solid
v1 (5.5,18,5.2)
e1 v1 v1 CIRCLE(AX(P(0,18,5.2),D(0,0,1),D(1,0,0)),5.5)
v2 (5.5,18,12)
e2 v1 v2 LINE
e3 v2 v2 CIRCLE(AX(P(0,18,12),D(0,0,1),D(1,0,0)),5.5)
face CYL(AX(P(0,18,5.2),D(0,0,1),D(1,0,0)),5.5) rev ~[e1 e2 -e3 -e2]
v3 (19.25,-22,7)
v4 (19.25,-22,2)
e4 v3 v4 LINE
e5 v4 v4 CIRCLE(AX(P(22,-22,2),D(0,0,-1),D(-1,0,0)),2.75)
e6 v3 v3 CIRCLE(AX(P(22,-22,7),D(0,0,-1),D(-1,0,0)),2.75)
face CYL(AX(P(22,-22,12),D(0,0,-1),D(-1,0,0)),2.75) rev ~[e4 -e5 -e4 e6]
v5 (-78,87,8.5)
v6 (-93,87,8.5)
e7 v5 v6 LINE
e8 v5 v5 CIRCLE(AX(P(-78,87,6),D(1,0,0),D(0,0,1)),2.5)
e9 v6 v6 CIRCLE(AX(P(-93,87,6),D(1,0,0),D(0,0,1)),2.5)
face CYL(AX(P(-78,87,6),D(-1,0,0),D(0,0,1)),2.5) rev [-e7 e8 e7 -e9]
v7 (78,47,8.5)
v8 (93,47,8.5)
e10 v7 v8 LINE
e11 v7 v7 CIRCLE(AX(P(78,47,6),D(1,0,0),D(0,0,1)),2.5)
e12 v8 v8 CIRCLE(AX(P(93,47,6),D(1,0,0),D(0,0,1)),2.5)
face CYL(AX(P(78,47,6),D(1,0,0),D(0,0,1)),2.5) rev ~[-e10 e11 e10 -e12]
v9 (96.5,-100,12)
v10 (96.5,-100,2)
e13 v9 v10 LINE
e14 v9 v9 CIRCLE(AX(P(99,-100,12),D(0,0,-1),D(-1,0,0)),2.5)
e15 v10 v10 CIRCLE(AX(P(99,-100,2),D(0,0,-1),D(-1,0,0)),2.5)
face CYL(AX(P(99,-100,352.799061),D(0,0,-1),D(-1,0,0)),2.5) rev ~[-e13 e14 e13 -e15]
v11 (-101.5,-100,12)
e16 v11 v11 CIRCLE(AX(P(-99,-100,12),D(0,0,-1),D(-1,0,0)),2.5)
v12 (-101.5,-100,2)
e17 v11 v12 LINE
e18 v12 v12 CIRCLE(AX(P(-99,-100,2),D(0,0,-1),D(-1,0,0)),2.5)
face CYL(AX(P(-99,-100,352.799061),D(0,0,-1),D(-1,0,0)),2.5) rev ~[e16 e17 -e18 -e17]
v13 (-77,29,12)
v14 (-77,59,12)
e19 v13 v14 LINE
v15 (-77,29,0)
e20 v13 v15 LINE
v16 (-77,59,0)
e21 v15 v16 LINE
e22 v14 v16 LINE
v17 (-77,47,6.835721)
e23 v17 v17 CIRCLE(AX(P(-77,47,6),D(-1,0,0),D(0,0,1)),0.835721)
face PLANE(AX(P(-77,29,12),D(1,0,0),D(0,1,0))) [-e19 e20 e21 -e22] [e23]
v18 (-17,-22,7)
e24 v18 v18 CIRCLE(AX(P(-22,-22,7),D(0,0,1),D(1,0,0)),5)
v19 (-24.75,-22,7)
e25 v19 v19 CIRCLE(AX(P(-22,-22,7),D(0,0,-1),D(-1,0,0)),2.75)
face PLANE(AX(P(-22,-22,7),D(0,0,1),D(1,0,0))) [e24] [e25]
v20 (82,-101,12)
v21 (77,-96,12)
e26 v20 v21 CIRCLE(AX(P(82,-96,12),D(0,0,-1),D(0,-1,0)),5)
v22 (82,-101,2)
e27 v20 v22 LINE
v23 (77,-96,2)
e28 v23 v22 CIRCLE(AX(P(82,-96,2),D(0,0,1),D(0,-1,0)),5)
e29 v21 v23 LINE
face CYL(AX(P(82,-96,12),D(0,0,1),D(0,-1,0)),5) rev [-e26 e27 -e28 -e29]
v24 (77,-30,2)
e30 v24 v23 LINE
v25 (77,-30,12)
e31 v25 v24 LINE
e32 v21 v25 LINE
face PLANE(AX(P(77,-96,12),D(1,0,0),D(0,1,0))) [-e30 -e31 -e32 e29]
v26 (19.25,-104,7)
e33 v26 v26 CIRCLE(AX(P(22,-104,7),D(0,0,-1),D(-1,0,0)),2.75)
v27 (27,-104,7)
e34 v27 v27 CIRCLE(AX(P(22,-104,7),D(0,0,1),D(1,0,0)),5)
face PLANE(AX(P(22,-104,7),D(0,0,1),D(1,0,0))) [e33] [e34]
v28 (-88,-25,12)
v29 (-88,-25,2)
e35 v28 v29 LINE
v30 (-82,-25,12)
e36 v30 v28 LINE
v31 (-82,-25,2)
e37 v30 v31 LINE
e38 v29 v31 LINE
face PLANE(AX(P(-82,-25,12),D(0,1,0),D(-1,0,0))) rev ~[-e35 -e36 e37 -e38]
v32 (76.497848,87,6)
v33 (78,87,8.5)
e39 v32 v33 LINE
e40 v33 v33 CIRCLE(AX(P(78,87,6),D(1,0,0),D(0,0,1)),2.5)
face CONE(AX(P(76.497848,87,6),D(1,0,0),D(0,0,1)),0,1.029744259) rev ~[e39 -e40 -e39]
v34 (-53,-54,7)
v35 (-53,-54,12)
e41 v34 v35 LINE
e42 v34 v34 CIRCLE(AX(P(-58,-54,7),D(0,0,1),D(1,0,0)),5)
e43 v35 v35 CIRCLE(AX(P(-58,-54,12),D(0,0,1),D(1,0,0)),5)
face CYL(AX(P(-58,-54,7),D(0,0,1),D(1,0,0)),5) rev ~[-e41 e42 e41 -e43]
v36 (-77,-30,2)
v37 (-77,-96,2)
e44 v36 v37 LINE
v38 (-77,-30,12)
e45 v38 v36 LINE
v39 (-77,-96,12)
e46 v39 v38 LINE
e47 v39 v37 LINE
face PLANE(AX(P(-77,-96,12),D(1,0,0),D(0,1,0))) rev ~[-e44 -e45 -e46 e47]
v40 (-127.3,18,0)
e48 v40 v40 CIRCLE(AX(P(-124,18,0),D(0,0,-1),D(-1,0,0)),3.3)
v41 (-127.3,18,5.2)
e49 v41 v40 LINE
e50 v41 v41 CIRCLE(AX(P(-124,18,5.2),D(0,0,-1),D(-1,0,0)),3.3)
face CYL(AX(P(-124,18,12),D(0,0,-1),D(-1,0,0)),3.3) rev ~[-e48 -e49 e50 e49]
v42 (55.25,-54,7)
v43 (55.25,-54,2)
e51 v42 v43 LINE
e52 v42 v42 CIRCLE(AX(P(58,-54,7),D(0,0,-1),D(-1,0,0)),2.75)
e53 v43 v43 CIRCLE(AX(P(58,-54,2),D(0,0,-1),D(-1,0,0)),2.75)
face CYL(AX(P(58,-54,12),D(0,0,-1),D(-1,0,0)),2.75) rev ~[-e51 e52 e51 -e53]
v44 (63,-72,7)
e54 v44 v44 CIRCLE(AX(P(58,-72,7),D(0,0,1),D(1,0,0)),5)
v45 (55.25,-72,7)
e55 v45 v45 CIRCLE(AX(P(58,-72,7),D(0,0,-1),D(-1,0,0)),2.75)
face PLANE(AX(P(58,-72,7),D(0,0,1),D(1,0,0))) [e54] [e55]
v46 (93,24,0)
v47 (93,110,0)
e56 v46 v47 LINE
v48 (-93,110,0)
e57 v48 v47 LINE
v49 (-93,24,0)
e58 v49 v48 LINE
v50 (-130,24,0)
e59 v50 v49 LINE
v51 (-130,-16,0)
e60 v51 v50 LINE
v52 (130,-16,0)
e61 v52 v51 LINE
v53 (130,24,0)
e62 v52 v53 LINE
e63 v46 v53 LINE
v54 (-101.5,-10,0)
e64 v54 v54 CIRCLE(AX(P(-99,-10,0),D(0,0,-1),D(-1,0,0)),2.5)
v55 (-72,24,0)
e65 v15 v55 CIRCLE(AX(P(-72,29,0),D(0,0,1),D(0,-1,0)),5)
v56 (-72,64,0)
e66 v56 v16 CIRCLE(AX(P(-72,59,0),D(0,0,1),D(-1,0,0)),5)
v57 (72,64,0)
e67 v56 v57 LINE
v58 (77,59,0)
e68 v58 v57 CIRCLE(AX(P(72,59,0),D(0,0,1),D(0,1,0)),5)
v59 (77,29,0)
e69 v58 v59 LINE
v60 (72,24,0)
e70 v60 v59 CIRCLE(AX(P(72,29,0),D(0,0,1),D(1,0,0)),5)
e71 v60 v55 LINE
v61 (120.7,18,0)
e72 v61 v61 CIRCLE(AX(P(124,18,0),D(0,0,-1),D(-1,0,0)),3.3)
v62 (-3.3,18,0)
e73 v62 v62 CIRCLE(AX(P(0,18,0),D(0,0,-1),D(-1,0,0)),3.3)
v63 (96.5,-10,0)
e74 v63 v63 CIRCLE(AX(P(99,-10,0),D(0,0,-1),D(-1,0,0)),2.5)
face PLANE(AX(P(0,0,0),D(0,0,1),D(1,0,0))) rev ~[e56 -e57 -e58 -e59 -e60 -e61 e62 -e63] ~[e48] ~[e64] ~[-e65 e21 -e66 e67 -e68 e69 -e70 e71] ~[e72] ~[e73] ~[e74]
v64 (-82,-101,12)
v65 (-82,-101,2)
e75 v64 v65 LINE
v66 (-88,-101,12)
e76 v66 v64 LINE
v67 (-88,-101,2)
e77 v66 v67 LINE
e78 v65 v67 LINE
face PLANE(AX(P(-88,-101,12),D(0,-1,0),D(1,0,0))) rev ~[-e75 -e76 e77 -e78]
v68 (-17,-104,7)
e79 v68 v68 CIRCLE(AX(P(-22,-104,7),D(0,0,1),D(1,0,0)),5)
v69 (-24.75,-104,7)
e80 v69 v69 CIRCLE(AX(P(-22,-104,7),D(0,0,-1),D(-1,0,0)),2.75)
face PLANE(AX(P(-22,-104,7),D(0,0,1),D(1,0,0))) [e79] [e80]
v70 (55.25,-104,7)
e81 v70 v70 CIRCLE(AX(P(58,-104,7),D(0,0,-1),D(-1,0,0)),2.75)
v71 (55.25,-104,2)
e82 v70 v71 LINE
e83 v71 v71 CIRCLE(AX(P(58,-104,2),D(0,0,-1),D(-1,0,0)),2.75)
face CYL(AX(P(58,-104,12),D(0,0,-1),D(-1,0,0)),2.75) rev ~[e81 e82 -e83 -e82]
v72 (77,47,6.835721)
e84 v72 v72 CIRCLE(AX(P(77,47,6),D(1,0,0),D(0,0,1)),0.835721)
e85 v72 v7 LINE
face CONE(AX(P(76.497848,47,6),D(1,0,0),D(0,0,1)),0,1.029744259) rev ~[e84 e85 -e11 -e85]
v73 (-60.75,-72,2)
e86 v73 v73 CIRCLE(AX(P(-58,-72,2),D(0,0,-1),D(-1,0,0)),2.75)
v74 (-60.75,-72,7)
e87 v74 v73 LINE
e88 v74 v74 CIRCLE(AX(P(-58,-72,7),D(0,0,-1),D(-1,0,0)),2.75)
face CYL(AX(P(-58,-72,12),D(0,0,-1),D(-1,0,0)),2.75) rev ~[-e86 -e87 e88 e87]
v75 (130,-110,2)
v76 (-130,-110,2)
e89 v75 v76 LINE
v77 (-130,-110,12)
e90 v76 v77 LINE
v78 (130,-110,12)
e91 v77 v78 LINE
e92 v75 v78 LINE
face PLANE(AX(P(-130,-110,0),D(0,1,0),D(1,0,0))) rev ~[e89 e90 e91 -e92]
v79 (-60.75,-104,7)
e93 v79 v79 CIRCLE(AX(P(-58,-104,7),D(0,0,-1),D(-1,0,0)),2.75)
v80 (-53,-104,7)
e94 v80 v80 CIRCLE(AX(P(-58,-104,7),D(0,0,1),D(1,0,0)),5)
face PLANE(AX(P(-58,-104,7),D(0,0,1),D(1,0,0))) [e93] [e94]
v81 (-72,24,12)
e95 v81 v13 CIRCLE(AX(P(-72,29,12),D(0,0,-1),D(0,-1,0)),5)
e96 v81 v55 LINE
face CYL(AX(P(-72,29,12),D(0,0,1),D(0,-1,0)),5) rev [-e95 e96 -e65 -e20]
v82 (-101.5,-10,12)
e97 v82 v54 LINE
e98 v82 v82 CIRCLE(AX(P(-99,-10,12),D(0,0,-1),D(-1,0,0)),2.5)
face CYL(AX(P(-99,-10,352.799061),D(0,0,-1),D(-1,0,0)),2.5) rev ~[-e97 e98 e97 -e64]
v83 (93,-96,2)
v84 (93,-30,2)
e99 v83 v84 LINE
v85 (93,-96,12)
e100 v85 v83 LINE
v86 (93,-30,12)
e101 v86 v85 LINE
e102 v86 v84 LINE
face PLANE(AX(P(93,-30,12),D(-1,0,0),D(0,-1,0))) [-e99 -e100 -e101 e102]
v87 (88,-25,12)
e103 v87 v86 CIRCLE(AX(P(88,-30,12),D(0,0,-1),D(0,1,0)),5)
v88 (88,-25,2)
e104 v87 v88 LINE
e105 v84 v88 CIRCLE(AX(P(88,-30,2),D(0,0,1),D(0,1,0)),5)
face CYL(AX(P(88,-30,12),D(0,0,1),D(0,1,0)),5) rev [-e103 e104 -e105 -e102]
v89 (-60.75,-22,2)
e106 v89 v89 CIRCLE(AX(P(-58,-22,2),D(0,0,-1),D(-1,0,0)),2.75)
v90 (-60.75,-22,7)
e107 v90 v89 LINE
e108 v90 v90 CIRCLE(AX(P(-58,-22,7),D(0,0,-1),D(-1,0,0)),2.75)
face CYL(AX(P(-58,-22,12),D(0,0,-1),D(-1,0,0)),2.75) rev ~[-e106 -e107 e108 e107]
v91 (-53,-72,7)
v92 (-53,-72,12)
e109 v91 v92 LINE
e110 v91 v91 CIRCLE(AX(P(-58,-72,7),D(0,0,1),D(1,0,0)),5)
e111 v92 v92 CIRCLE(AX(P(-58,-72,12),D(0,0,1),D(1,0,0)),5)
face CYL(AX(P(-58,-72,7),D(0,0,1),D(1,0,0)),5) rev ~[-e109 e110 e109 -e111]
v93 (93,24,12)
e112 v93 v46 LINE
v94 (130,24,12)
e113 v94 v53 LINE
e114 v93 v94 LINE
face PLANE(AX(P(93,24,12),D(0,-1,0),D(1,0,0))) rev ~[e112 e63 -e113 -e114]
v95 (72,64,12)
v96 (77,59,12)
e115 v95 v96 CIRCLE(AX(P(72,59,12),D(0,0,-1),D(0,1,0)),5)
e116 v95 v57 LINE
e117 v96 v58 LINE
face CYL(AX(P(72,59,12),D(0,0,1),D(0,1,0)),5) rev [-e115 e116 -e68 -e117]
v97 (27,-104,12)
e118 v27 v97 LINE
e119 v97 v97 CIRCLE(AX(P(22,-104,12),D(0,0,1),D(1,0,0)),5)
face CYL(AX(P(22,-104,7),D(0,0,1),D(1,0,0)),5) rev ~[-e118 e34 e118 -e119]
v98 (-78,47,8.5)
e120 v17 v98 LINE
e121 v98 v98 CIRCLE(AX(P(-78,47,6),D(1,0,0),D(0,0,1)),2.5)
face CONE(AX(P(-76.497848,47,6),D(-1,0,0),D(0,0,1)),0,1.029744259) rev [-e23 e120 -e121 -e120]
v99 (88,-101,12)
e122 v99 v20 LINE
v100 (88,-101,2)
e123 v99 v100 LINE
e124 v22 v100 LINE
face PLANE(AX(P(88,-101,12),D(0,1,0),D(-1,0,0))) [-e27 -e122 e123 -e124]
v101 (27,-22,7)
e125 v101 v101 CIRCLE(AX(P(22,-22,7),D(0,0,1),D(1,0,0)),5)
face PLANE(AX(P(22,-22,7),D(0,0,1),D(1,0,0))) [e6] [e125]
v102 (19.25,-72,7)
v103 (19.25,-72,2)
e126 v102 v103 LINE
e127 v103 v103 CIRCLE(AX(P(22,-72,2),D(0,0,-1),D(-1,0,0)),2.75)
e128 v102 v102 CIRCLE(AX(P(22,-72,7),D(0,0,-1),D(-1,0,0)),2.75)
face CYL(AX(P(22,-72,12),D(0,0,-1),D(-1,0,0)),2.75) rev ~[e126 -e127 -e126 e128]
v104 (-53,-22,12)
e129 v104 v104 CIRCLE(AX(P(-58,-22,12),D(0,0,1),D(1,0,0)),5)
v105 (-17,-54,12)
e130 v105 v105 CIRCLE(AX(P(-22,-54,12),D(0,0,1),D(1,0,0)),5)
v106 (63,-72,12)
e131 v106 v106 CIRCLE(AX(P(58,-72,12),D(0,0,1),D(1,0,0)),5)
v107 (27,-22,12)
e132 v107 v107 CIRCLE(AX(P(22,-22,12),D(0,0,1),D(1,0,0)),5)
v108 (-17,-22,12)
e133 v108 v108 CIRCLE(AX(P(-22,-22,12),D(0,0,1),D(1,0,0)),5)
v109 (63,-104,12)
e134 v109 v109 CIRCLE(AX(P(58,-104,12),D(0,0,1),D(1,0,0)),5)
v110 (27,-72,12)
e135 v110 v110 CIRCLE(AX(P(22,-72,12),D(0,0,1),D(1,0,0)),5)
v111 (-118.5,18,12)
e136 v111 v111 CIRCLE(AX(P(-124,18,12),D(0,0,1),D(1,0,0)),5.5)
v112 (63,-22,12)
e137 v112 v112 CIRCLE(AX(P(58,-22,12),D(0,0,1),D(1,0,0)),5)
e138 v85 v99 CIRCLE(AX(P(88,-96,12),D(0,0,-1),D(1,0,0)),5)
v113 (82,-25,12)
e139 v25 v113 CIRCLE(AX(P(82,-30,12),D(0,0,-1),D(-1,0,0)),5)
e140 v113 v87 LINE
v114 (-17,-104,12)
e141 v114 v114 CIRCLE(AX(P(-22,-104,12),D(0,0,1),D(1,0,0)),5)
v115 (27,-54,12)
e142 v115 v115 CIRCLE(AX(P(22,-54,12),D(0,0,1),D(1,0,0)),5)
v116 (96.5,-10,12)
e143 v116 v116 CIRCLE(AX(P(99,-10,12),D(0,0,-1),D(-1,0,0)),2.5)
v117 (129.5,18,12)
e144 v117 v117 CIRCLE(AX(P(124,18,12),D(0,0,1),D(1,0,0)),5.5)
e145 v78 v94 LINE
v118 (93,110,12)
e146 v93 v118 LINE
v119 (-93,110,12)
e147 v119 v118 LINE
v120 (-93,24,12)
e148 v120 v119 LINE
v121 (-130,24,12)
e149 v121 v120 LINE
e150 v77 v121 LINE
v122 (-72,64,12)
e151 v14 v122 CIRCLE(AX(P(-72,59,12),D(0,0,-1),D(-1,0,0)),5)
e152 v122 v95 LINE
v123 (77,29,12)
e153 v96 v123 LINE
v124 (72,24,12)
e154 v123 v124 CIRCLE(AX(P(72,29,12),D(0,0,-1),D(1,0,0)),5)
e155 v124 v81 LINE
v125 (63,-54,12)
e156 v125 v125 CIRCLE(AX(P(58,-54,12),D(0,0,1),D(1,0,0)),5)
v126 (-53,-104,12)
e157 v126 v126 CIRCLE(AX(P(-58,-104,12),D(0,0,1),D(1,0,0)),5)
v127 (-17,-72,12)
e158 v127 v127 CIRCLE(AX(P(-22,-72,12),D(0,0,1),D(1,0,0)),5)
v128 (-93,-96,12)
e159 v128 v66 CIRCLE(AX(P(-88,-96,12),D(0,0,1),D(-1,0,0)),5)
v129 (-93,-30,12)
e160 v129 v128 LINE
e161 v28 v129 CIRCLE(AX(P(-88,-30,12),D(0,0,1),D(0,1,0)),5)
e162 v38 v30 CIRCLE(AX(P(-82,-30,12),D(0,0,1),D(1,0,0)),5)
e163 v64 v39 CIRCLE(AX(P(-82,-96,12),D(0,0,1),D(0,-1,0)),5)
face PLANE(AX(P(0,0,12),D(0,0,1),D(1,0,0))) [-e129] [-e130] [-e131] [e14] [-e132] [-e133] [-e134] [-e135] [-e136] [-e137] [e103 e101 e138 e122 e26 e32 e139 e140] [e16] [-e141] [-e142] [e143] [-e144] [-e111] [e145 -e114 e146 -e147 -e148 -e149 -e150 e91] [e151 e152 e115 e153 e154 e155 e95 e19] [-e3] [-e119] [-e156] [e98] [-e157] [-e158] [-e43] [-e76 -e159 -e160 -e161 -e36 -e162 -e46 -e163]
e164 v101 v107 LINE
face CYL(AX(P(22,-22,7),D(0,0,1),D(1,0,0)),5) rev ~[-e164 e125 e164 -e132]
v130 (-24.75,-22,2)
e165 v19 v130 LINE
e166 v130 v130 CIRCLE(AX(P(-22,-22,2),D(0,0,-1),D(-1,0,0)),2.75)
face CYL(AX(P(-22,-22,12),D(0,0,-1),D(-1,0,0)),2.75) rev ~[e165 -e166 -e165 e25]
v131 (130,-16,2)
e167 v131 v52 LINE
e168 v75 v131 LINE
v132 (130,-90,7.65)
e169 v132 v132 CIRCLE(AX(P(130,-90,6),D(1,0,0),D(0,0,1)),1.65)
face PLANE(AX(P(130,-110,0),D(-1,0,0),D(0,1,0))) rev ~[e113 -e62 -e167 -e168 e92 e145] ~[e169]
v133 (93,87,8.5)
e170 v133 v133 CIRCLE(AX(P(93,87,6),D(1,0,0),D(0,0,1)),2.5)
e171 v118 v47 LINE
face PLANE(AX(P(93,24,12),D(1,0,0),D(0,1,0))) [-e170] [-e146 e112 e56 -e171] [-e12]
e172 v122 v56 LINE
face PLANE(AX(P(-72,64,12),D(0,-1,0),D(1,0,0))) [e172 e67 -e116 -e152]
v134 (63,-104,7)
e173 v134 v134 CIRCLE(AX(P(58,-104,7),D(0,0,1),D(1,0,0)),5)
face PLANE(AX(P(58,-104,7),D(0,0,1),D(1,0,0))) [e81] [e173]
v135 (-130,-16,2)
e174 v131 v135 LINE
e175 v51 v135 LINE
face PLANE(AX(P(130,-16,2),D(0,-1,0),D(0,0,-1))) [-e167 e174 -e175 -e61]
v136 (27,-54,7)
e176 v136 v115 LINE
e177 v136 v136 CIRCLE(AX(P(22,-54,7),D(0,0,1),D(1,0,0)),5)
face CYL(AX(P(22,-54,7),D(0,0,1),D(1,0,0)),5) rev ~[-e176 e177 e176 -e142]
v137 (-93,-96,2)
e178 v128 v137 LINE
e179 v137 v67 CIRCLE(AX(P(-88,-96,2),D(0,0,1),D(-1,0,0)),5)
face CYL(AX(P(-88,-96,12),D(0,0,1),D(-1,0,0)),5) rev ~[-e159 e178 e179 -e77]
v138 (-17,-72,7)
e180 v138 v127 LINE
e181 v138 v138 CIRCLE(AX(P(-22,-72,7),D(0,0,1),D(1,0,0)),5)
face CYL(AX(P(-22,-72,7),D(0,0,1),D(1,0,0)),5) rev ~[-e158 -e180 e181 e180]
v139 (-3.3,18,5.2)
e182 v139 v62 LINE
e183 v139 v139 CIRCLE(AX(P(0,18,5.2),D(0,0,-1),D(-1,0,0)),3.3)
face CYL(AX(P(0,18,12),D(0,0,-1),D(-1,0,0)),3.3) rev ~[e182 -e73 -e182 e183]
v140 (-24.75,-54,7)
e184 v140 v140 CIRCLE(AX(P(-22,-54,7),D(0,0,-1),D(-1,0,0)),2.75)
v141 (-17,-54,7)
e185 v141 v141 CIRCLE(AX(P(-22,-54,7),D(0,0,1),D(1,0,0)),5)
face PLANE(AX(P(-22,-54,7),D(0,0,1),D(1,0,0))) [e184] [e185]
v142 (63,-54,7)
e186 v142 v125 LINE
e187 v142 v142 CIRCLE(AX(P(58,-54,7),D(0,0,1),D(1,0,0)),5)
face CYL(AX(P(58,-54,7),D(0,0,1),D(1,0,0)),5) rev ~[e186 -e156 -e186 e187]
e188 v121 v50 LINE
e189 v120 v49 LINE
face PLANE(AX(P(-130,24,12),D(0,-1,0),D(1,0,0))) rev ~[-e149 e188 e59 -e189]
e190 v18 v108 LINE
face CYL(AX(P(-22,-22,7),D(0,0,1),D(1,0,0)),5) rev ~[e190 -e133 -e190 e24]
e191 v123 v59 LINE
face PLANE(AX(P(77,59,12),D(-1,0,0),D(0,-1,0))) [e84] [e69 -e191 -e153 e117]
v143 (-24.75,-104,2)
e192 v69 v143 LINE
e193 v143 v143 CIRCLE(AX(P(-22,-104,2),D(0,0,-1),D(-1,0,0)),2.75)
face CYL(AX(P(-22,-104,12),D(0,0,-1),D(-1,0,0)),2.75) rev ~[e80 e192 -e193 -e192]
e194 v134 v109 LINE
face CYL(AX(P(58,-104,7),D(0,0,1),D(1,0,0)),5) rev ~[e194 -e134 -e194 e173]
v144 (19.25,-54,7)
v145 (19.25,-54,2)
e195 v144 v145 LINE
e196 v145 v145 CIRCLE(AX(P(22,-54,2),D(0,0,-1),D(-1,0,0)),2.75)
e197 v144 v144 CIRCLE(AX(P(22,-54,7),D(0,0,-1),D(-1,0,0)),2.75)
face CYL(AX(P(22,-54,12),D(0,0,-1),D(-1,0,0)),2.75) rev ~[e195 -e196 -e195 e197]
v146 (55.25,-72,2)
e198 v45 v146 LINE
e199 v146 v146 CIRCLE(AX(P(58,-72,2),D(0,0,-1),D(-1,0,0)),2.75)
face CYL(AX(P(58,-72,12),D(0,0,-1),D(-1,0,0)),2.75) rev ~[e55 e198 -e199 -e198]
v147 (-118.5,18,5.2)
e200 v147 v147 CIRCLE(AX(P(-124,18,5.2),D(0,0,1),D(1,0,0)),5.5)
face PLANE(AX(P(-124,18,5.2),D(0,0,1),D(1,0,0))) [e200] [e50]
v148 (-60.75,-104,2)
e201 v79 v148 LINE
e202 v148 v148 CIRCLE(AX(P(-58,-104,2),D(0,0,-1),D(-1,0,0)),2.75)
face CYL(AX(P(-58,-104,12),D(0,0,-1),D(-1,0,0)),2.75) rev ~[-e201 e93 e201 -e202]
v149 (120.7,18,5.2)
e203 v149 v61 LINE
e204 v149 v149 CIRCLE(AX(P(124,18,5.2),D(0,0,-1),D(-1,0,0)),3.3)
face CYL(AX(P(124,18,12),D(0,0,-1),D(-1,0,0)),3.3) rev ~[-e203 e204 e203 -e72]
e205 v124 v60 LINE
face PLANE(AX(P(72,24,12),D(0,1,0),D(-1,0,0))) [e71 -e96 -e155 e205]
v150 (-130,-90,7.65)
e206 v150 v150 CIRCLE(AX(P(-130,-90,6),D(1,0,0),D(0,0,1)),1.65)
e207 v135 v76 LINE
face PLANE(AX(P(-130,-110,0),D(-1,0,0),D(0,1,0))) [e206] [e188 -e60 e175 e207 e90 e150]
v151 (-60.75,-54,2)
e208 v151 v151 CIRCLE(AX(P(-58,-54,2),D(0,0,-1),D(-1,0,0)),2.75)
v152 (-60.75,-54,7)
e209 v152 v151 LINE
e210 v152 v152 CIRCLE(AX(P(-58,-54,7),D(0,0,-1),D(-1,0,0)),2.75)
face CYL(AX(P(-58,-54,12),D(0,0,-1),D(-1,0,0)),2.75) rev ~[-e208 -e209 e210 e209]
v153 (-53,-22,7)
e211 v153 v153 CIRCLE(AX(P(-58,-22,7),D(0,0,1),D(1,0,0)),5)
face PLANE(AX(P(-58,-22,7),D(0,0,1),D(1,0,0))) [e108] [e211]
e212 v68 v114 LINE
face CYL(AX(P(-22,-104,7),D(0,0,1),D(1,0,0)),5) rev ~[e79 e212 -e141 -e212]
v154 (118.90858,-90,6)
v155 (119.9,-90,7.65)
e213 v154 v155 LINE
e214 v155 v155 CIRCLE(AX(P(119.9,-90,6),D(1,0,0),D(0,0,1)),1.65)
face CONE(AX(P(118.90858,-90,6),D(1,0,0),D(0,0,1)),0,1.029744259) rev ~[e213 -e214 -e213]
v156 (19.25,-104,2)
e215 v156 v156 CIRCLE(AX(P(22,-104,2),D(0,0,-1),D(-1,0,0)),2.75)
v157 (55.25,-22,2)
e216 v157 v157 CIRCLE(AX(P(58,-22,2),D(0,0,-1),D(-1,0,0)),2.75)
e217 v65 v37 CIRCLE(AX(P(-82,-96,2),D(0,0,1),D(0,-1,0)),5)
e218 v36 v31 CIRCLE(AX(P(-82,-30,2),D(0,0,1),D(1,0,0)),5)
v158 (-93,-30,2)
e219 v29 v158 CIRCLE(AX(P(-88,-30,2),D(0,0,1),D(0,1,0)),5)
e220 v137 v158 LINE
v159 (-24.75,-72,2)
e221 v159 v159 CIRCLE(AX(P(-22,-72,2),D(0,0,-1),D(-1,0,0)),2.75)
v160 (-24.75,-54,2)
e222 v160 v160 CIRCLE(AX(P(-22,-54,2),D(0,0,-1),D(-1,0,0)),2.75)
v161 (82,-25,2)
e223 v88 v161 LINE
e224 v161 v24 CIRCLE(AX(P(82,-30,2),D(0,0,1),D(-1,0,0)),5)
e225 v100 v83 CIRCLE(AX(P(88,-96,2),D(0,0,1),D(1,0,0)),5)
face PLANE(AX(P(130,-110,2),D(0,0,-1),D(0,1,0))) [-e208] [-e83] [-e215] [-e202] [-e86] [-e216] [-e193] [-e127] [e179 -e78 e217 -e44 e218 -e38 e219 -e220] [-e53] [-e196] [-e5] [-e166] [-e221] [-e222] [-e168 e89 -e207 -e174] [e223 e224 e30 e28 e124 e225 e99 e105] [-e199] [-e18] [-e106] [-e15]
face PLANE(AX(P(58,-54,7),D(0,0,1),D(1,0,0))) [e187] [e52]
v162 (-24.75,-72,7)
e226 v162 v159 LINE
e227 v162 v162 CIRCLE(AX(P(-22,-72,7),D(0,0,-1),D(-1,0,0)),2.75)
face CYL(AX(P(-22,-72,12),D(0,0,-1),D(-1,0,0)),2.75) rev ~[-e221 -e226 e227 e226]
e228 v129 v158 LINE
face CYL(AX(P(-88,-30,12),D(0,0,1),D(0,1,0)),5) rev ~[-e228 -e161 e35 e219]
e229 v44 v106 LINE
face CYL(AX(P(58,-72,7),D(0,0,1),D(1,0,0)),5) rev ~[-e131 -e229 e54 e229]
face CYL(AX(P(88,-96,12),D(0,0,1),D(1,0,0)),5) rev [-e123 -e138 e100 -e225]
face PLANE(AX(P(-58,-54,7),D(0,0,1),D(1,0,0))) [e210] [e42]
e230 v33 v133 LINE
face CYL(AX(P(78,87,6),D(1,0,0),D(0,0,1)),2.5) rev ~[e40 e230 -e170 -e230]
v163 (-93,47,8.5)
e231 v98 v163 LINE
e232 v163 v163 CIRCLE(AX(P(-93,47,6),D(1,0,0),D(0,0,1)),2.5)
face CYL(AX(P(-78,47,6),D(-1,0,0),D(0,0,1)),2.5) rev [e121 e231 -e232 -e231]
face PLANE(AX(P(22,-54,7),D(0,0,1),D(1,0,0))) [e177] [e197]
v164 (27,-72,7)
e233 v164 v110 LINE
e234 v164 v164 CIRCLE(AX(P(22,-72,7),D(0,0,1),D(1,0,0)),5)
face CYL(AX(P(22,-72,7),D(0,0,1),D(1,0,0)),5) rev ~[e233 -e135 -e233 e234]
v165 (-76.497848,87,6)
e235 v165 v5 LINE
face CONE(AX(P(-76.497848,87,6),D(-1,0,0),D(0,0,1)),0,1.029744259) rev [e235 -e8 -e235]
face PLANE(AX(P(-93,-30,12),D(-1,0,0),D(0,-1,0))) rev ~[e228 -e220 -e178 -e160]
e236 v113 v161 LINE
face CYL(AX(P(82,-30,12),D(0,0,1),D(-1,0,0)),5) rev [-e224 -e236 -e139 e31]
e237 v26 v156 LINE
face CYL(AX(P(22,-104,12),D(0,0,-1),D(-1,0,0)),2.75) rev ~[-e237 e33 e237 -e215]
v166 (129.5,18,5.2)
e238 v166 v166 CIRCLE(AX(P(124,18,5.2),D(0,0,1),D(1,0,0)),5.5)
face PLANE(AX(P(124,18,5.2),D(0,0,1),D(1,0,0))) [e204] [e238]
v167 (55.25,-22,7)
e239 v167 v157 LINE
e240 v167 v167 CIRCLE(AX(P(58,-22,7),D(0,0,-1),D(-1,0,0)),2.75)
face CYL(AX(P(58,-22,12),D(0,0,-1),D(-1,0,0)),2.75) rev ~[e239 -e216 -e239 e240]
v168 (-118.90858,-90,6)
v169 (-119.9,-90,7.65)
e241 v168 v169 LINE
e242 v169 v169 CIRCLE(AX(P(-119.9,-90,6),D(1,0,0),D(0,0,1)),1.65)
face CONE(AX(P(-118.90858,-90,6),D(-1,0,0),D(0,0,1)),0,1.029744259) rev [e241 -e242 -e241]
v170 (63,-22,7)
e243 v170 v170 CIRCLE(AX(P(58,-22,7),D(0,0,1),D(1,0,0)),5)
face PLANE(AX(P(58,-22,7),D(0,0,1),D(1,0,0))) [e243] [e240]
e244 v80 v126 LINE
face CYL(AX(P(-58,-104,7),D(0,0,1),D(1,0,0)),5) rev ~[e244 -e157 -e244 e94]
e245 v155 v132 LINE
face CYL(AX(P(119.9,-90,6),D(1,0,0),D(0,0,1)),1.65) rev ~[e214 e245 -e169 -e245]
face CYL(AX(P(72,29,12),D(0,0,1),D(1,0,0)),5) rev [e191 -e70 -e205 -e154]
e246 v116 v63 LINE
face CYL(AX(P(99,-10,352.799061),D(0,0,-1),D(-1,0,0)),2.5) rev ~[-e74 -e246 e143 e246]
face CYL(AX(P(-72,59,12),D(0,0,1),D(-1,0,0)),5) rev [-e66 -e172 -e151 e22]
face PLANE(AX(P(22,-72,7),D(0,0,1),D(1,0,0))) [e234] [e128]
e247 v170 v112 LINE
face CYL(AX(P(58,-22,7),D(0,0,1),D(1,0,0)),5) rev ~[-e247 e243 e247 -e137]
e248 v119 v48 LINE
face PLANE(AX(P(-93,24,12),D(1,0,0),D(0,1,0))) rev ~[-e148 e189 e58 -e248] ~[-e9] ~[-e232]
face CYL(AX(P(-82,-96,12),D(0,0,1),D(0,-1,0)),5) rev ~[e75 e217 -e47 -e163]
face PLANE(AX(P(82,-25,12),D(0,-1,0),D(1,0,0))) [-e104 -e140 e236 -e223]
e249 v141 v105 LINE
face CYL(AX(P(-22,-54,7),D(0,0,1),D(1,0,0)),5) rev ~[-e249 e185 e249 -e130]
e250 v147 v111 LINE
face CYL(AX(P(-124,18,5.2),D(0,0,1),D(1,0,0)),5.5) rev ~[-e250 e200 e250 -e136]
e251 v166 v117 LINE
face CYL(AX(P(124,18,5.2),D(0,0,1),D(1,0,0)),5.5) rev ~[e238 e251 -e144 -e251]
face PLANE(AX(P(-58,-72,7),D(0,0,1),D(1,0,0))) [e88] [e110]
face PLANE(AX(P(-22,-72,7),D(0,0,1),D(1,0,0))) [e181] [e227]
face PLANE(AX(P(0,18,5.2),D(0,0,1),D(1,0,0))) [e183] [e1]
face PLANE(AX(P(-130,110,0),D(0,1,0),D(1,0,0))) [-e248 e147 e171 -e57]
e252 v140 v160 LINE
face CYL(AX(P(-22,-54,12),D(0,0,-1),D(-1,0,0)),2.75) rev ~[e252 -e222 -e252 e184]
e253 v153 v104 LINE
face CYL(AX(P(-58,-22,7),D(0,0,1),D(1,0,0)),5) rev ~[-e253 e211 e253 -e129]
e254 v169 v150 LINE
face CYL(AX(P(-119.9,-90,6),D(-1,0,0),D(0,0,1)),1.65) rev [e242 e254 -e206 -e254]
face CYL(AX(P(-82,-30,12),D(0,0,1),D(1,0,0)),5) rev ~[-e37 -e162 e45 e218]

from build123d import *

# Parameters (mm, degrees)
SKETCH_1_W                  = 260
SKETCH_1_H                  = 220
EXTRUDE_1_DEPTH             = 12
SKETCH_2_W                  = 2
SKETCH_2_H                  = 94
CUT_EXTRUDE_1_DEPTH         = 283.56680626
HOLE_WIZARD_1_D             = 5.5
HOLE_WIZARD_1_CBORE_D       = 10
HOLE_WIZARD_1_CBORE_DEPTH   = 5
HOLE_WIZARD_2_D             = 6.6
HOLE_WIZARD_2_CBORE_D       = 11
HOLE_WIZARD_2_CBORE_DEPTH   = 6.8
SKETCH_7_W                  = 37
SKETCH_7_H                  = 86
CUT_EXTRUDE_2_DEPTH         = 171.716138663
HOLE_WIZARD_M6_1_AT_2_COUNT = 2
HOLE_WIZARD_M6_1_AT_2_PITCH = 40
CUT_EXTRUDE_3_DEPTH         = 171.716138663
HOLE_WIZARD_M6_2_D          = 5


with BuildPart() as part:
    # 草图1 → 凸台-拉伸1 (new body)
    with BuildSketch(Plane.XY):
        Rectangle(SKETCH_1_W, SKETCH_1_H)
    extrude(amount=EXTRUDE_1_DEPTH)

    # 草图2 → 切除-拉伸1 (cut, through all)
    with BuildSketch(Plane(origin=(130, 0, 0), x_dir=(0, 0, -1), z_dir=(1, 0, 0))):
        with Locations((-1, -63)):
            Rectangle(SKETCH_2_W, SKETCH_2_H)
    extrude(amount=-CUT_EXTRUDE_1_DEPTH, mode=Mode.SUBTRACT)

    # 打孔尺寸根据内六角圆柱头螺钉的类型1 (through all)
    with Locations(Plane.XY.offset(12)):
        with Locations((-58, -22), (-22, -22), (-22, -54), (-58, -54), (58, -54), (22, -54), (22, -22), (58, -22), (58, -104), (22, -104), (22, -72), (58, -72), (-58, -72), (-22, -72), (-22, -104), (-58, -104)):
            CounterBoreHole(HOLE_WIZARD_1_D / 2, HOLE_WIZARD_1_CBORE_D / 2, HOLE_WIZARD_1_CBORE_DEPTH)

    # 打孔尺寸根据内六角圆柱头螺钉的类型2 (through all)
    with Locations(Plane.XY.offset(12)):
        with Locations((-124, 18), (0, 18), (124, 18)):
            CounterBoreHole(HOLE_WIZARD_2_D / 2, HOLE_WIZARD_2_CBORE_D / 2, HOLE_WIZARD_2_CBORE_DEPTH)

    # 草图7 → 切除-拉伸2 (cut, through all)
    with BuildSketch(Plane.XY.offset(12)):
        with Locations((111.5, 67)):
            Rectangle(SKETCH_7_W, SKETCH_7_H)
        with Locations((-111.5, 67)):
            Rectangle(SKETCH_7_W, SKETCH_7_H)
    extrude(amount=-CUT_EXTRUDE_2_DEPTH, mode=Mode.SUBTRACT)

    # 草图8 → M6 螺纹孔1 (revolve, cut)
    with BuildSketch(Plane(origin=(-93, 87, 6), x_dir=(0, 0, 1), z_dir=(0, 1, 0))):
        Polygon((0, 0), (0, 16.502151548), (2.5, 15), (2.5, 0), align=None)
    hole_wizard_m6_1 = revolve(axis=Axis((-99.35, 87, 6), (1, 0, 0)), mode=Mode.SUBTRACT)

    # M6 螺纹孔1 at 2: M6 螺纹孔1 ×2
    with Locations(*[(0, -i * HOLE_WIZARD_M6_1_AT_2_PITCH, 0) for i in range(1, HOLE_WIZARD_M6_1_AT_2_COUNT)]):
        add(hole_wizard_m6_1, mode=Mode.SUBTRACT)

    # 镜向1: M6 螺纹孔1 across plane
    add(hole_wizard_m6_1.mirror(Plane(origin=(0, 0, 0), x_dir=(0, 0, 1), z_dir=(1, 0, 0))), mode=Mode.SUBTRACT)

    # 镜向1 copy 1 sketch → 镜向1 copy 1 (revolve, cut)
    with BuildSketch(Plane(origin=(93, 47, 6), x_dir=(0, 0, 1), z_dir=(0, 1, 0))):
        Polygon((0, 0), (0, -16.502151548), (2.5, -15), (2.5, 0), align=None)
    revolve(axis=Axis((99.35, 47, 6), (1, 0, 0)), mode=Mode.SUBTRACT)

    # 草图10 → 切除-拉伸3 (cut, through all)
    with BuildSketch(Plane.XY.offset(12)):
        with BuildLine():
            Line((-88, -101), (-82, -101))
            ThreePointArc((-82, -101), (-78.464466094, -99.535533906), (-77, -96))
            Line((-77, -96), (-77, -30))
            ThreePointArc((-77, -30), (-78.464466094, -26.464466094), (-82, -25))
            Line((-82, -25), (-88, -25))
            ThreePointArc((-88, -25), (-91.535533906, -26.464466094), (-93, -30))
            Line((-93, -30), (-93, -96))
            ThreePointArc((-93, -96), (-91.535533906, -99.535533906), (-88, -101))
        make_face()
        with BuildLine():
            Line((-72, 64), (72, 64))
            ThreePointArc((72, 64), (75.535533906, 62.535533906), (77, 59))
            Line((77, 59), (77, 29))
            ThreePointArc((77, 29), (75.535533906, 25.464466094), (72, 24))
            Line((72, 24), (-72, 24))
            ThreePointArc((-72, 24), (-75.535533906, 25.464466094), (-77, 29))
            Line((-77, 29), (-77, 59))
            ThreePointArc((-77, 59), (-75.535533906, 62.535533906), (-72, 64))
        make_face()
        with BuildLine():
            Line((77, -96), (77, -30))
            ThreePointArc((77, -30), (78.464466094, -26.464466094), (82, -25))
            Line((82, -25), (88, -25))
            ThreePointArc((88, -25), (91.535533906, -26.464466094), (93, -30))
            Line((93, -30), (93, -96))
            ThreePointArc((93, -96), (91.535533906, -99.535533906), (88, -101))
            Line((88, -101), (82, -101))
            ThreePointArc((82, -101), (78.464466094, -99.535533906), (77, -96))
        make_face()
    extrude(amount=-CUT_EXTRUDE_3_DEPTH, mode=Mode.SUBTRACT)

    # M6 螺纹孔2 (through all)
    with Locations(Plane.XY.offset(12)):
        with Locations((-99, -10), (-99, -100), (99, -100), (99, -10)):
            Hole(HOLE_WIZARD_M6_2_D / 2)

    # 草图13 → M4 螺纹孔1 (revolve, cut)
    with BuildSketch(Plane(origin=(-130, -90, 6), x_dir=(0, 0, 1), z_dir=(0, 1, 0))):
        Polygon((0, 0), (0, 11.091420021), (1.65, 10.1), (1.65, 0), align=None)
    hole_wizard_m4_1 = revolve(axis=Axis((-136.35, -90, 6), (1, 0, 0)), mode=Mode.SUBTRACT)

    # 镜向2: M4 螺纹孔1 across plane
    add(hole_wizard_m4_1.mirror(Plane(origin=(0, 0, 0), x_dir=(0, 0, 1), z_dir=(1, 0, 0))), mode=Mode.SUBTRACT)


solid = part.part
